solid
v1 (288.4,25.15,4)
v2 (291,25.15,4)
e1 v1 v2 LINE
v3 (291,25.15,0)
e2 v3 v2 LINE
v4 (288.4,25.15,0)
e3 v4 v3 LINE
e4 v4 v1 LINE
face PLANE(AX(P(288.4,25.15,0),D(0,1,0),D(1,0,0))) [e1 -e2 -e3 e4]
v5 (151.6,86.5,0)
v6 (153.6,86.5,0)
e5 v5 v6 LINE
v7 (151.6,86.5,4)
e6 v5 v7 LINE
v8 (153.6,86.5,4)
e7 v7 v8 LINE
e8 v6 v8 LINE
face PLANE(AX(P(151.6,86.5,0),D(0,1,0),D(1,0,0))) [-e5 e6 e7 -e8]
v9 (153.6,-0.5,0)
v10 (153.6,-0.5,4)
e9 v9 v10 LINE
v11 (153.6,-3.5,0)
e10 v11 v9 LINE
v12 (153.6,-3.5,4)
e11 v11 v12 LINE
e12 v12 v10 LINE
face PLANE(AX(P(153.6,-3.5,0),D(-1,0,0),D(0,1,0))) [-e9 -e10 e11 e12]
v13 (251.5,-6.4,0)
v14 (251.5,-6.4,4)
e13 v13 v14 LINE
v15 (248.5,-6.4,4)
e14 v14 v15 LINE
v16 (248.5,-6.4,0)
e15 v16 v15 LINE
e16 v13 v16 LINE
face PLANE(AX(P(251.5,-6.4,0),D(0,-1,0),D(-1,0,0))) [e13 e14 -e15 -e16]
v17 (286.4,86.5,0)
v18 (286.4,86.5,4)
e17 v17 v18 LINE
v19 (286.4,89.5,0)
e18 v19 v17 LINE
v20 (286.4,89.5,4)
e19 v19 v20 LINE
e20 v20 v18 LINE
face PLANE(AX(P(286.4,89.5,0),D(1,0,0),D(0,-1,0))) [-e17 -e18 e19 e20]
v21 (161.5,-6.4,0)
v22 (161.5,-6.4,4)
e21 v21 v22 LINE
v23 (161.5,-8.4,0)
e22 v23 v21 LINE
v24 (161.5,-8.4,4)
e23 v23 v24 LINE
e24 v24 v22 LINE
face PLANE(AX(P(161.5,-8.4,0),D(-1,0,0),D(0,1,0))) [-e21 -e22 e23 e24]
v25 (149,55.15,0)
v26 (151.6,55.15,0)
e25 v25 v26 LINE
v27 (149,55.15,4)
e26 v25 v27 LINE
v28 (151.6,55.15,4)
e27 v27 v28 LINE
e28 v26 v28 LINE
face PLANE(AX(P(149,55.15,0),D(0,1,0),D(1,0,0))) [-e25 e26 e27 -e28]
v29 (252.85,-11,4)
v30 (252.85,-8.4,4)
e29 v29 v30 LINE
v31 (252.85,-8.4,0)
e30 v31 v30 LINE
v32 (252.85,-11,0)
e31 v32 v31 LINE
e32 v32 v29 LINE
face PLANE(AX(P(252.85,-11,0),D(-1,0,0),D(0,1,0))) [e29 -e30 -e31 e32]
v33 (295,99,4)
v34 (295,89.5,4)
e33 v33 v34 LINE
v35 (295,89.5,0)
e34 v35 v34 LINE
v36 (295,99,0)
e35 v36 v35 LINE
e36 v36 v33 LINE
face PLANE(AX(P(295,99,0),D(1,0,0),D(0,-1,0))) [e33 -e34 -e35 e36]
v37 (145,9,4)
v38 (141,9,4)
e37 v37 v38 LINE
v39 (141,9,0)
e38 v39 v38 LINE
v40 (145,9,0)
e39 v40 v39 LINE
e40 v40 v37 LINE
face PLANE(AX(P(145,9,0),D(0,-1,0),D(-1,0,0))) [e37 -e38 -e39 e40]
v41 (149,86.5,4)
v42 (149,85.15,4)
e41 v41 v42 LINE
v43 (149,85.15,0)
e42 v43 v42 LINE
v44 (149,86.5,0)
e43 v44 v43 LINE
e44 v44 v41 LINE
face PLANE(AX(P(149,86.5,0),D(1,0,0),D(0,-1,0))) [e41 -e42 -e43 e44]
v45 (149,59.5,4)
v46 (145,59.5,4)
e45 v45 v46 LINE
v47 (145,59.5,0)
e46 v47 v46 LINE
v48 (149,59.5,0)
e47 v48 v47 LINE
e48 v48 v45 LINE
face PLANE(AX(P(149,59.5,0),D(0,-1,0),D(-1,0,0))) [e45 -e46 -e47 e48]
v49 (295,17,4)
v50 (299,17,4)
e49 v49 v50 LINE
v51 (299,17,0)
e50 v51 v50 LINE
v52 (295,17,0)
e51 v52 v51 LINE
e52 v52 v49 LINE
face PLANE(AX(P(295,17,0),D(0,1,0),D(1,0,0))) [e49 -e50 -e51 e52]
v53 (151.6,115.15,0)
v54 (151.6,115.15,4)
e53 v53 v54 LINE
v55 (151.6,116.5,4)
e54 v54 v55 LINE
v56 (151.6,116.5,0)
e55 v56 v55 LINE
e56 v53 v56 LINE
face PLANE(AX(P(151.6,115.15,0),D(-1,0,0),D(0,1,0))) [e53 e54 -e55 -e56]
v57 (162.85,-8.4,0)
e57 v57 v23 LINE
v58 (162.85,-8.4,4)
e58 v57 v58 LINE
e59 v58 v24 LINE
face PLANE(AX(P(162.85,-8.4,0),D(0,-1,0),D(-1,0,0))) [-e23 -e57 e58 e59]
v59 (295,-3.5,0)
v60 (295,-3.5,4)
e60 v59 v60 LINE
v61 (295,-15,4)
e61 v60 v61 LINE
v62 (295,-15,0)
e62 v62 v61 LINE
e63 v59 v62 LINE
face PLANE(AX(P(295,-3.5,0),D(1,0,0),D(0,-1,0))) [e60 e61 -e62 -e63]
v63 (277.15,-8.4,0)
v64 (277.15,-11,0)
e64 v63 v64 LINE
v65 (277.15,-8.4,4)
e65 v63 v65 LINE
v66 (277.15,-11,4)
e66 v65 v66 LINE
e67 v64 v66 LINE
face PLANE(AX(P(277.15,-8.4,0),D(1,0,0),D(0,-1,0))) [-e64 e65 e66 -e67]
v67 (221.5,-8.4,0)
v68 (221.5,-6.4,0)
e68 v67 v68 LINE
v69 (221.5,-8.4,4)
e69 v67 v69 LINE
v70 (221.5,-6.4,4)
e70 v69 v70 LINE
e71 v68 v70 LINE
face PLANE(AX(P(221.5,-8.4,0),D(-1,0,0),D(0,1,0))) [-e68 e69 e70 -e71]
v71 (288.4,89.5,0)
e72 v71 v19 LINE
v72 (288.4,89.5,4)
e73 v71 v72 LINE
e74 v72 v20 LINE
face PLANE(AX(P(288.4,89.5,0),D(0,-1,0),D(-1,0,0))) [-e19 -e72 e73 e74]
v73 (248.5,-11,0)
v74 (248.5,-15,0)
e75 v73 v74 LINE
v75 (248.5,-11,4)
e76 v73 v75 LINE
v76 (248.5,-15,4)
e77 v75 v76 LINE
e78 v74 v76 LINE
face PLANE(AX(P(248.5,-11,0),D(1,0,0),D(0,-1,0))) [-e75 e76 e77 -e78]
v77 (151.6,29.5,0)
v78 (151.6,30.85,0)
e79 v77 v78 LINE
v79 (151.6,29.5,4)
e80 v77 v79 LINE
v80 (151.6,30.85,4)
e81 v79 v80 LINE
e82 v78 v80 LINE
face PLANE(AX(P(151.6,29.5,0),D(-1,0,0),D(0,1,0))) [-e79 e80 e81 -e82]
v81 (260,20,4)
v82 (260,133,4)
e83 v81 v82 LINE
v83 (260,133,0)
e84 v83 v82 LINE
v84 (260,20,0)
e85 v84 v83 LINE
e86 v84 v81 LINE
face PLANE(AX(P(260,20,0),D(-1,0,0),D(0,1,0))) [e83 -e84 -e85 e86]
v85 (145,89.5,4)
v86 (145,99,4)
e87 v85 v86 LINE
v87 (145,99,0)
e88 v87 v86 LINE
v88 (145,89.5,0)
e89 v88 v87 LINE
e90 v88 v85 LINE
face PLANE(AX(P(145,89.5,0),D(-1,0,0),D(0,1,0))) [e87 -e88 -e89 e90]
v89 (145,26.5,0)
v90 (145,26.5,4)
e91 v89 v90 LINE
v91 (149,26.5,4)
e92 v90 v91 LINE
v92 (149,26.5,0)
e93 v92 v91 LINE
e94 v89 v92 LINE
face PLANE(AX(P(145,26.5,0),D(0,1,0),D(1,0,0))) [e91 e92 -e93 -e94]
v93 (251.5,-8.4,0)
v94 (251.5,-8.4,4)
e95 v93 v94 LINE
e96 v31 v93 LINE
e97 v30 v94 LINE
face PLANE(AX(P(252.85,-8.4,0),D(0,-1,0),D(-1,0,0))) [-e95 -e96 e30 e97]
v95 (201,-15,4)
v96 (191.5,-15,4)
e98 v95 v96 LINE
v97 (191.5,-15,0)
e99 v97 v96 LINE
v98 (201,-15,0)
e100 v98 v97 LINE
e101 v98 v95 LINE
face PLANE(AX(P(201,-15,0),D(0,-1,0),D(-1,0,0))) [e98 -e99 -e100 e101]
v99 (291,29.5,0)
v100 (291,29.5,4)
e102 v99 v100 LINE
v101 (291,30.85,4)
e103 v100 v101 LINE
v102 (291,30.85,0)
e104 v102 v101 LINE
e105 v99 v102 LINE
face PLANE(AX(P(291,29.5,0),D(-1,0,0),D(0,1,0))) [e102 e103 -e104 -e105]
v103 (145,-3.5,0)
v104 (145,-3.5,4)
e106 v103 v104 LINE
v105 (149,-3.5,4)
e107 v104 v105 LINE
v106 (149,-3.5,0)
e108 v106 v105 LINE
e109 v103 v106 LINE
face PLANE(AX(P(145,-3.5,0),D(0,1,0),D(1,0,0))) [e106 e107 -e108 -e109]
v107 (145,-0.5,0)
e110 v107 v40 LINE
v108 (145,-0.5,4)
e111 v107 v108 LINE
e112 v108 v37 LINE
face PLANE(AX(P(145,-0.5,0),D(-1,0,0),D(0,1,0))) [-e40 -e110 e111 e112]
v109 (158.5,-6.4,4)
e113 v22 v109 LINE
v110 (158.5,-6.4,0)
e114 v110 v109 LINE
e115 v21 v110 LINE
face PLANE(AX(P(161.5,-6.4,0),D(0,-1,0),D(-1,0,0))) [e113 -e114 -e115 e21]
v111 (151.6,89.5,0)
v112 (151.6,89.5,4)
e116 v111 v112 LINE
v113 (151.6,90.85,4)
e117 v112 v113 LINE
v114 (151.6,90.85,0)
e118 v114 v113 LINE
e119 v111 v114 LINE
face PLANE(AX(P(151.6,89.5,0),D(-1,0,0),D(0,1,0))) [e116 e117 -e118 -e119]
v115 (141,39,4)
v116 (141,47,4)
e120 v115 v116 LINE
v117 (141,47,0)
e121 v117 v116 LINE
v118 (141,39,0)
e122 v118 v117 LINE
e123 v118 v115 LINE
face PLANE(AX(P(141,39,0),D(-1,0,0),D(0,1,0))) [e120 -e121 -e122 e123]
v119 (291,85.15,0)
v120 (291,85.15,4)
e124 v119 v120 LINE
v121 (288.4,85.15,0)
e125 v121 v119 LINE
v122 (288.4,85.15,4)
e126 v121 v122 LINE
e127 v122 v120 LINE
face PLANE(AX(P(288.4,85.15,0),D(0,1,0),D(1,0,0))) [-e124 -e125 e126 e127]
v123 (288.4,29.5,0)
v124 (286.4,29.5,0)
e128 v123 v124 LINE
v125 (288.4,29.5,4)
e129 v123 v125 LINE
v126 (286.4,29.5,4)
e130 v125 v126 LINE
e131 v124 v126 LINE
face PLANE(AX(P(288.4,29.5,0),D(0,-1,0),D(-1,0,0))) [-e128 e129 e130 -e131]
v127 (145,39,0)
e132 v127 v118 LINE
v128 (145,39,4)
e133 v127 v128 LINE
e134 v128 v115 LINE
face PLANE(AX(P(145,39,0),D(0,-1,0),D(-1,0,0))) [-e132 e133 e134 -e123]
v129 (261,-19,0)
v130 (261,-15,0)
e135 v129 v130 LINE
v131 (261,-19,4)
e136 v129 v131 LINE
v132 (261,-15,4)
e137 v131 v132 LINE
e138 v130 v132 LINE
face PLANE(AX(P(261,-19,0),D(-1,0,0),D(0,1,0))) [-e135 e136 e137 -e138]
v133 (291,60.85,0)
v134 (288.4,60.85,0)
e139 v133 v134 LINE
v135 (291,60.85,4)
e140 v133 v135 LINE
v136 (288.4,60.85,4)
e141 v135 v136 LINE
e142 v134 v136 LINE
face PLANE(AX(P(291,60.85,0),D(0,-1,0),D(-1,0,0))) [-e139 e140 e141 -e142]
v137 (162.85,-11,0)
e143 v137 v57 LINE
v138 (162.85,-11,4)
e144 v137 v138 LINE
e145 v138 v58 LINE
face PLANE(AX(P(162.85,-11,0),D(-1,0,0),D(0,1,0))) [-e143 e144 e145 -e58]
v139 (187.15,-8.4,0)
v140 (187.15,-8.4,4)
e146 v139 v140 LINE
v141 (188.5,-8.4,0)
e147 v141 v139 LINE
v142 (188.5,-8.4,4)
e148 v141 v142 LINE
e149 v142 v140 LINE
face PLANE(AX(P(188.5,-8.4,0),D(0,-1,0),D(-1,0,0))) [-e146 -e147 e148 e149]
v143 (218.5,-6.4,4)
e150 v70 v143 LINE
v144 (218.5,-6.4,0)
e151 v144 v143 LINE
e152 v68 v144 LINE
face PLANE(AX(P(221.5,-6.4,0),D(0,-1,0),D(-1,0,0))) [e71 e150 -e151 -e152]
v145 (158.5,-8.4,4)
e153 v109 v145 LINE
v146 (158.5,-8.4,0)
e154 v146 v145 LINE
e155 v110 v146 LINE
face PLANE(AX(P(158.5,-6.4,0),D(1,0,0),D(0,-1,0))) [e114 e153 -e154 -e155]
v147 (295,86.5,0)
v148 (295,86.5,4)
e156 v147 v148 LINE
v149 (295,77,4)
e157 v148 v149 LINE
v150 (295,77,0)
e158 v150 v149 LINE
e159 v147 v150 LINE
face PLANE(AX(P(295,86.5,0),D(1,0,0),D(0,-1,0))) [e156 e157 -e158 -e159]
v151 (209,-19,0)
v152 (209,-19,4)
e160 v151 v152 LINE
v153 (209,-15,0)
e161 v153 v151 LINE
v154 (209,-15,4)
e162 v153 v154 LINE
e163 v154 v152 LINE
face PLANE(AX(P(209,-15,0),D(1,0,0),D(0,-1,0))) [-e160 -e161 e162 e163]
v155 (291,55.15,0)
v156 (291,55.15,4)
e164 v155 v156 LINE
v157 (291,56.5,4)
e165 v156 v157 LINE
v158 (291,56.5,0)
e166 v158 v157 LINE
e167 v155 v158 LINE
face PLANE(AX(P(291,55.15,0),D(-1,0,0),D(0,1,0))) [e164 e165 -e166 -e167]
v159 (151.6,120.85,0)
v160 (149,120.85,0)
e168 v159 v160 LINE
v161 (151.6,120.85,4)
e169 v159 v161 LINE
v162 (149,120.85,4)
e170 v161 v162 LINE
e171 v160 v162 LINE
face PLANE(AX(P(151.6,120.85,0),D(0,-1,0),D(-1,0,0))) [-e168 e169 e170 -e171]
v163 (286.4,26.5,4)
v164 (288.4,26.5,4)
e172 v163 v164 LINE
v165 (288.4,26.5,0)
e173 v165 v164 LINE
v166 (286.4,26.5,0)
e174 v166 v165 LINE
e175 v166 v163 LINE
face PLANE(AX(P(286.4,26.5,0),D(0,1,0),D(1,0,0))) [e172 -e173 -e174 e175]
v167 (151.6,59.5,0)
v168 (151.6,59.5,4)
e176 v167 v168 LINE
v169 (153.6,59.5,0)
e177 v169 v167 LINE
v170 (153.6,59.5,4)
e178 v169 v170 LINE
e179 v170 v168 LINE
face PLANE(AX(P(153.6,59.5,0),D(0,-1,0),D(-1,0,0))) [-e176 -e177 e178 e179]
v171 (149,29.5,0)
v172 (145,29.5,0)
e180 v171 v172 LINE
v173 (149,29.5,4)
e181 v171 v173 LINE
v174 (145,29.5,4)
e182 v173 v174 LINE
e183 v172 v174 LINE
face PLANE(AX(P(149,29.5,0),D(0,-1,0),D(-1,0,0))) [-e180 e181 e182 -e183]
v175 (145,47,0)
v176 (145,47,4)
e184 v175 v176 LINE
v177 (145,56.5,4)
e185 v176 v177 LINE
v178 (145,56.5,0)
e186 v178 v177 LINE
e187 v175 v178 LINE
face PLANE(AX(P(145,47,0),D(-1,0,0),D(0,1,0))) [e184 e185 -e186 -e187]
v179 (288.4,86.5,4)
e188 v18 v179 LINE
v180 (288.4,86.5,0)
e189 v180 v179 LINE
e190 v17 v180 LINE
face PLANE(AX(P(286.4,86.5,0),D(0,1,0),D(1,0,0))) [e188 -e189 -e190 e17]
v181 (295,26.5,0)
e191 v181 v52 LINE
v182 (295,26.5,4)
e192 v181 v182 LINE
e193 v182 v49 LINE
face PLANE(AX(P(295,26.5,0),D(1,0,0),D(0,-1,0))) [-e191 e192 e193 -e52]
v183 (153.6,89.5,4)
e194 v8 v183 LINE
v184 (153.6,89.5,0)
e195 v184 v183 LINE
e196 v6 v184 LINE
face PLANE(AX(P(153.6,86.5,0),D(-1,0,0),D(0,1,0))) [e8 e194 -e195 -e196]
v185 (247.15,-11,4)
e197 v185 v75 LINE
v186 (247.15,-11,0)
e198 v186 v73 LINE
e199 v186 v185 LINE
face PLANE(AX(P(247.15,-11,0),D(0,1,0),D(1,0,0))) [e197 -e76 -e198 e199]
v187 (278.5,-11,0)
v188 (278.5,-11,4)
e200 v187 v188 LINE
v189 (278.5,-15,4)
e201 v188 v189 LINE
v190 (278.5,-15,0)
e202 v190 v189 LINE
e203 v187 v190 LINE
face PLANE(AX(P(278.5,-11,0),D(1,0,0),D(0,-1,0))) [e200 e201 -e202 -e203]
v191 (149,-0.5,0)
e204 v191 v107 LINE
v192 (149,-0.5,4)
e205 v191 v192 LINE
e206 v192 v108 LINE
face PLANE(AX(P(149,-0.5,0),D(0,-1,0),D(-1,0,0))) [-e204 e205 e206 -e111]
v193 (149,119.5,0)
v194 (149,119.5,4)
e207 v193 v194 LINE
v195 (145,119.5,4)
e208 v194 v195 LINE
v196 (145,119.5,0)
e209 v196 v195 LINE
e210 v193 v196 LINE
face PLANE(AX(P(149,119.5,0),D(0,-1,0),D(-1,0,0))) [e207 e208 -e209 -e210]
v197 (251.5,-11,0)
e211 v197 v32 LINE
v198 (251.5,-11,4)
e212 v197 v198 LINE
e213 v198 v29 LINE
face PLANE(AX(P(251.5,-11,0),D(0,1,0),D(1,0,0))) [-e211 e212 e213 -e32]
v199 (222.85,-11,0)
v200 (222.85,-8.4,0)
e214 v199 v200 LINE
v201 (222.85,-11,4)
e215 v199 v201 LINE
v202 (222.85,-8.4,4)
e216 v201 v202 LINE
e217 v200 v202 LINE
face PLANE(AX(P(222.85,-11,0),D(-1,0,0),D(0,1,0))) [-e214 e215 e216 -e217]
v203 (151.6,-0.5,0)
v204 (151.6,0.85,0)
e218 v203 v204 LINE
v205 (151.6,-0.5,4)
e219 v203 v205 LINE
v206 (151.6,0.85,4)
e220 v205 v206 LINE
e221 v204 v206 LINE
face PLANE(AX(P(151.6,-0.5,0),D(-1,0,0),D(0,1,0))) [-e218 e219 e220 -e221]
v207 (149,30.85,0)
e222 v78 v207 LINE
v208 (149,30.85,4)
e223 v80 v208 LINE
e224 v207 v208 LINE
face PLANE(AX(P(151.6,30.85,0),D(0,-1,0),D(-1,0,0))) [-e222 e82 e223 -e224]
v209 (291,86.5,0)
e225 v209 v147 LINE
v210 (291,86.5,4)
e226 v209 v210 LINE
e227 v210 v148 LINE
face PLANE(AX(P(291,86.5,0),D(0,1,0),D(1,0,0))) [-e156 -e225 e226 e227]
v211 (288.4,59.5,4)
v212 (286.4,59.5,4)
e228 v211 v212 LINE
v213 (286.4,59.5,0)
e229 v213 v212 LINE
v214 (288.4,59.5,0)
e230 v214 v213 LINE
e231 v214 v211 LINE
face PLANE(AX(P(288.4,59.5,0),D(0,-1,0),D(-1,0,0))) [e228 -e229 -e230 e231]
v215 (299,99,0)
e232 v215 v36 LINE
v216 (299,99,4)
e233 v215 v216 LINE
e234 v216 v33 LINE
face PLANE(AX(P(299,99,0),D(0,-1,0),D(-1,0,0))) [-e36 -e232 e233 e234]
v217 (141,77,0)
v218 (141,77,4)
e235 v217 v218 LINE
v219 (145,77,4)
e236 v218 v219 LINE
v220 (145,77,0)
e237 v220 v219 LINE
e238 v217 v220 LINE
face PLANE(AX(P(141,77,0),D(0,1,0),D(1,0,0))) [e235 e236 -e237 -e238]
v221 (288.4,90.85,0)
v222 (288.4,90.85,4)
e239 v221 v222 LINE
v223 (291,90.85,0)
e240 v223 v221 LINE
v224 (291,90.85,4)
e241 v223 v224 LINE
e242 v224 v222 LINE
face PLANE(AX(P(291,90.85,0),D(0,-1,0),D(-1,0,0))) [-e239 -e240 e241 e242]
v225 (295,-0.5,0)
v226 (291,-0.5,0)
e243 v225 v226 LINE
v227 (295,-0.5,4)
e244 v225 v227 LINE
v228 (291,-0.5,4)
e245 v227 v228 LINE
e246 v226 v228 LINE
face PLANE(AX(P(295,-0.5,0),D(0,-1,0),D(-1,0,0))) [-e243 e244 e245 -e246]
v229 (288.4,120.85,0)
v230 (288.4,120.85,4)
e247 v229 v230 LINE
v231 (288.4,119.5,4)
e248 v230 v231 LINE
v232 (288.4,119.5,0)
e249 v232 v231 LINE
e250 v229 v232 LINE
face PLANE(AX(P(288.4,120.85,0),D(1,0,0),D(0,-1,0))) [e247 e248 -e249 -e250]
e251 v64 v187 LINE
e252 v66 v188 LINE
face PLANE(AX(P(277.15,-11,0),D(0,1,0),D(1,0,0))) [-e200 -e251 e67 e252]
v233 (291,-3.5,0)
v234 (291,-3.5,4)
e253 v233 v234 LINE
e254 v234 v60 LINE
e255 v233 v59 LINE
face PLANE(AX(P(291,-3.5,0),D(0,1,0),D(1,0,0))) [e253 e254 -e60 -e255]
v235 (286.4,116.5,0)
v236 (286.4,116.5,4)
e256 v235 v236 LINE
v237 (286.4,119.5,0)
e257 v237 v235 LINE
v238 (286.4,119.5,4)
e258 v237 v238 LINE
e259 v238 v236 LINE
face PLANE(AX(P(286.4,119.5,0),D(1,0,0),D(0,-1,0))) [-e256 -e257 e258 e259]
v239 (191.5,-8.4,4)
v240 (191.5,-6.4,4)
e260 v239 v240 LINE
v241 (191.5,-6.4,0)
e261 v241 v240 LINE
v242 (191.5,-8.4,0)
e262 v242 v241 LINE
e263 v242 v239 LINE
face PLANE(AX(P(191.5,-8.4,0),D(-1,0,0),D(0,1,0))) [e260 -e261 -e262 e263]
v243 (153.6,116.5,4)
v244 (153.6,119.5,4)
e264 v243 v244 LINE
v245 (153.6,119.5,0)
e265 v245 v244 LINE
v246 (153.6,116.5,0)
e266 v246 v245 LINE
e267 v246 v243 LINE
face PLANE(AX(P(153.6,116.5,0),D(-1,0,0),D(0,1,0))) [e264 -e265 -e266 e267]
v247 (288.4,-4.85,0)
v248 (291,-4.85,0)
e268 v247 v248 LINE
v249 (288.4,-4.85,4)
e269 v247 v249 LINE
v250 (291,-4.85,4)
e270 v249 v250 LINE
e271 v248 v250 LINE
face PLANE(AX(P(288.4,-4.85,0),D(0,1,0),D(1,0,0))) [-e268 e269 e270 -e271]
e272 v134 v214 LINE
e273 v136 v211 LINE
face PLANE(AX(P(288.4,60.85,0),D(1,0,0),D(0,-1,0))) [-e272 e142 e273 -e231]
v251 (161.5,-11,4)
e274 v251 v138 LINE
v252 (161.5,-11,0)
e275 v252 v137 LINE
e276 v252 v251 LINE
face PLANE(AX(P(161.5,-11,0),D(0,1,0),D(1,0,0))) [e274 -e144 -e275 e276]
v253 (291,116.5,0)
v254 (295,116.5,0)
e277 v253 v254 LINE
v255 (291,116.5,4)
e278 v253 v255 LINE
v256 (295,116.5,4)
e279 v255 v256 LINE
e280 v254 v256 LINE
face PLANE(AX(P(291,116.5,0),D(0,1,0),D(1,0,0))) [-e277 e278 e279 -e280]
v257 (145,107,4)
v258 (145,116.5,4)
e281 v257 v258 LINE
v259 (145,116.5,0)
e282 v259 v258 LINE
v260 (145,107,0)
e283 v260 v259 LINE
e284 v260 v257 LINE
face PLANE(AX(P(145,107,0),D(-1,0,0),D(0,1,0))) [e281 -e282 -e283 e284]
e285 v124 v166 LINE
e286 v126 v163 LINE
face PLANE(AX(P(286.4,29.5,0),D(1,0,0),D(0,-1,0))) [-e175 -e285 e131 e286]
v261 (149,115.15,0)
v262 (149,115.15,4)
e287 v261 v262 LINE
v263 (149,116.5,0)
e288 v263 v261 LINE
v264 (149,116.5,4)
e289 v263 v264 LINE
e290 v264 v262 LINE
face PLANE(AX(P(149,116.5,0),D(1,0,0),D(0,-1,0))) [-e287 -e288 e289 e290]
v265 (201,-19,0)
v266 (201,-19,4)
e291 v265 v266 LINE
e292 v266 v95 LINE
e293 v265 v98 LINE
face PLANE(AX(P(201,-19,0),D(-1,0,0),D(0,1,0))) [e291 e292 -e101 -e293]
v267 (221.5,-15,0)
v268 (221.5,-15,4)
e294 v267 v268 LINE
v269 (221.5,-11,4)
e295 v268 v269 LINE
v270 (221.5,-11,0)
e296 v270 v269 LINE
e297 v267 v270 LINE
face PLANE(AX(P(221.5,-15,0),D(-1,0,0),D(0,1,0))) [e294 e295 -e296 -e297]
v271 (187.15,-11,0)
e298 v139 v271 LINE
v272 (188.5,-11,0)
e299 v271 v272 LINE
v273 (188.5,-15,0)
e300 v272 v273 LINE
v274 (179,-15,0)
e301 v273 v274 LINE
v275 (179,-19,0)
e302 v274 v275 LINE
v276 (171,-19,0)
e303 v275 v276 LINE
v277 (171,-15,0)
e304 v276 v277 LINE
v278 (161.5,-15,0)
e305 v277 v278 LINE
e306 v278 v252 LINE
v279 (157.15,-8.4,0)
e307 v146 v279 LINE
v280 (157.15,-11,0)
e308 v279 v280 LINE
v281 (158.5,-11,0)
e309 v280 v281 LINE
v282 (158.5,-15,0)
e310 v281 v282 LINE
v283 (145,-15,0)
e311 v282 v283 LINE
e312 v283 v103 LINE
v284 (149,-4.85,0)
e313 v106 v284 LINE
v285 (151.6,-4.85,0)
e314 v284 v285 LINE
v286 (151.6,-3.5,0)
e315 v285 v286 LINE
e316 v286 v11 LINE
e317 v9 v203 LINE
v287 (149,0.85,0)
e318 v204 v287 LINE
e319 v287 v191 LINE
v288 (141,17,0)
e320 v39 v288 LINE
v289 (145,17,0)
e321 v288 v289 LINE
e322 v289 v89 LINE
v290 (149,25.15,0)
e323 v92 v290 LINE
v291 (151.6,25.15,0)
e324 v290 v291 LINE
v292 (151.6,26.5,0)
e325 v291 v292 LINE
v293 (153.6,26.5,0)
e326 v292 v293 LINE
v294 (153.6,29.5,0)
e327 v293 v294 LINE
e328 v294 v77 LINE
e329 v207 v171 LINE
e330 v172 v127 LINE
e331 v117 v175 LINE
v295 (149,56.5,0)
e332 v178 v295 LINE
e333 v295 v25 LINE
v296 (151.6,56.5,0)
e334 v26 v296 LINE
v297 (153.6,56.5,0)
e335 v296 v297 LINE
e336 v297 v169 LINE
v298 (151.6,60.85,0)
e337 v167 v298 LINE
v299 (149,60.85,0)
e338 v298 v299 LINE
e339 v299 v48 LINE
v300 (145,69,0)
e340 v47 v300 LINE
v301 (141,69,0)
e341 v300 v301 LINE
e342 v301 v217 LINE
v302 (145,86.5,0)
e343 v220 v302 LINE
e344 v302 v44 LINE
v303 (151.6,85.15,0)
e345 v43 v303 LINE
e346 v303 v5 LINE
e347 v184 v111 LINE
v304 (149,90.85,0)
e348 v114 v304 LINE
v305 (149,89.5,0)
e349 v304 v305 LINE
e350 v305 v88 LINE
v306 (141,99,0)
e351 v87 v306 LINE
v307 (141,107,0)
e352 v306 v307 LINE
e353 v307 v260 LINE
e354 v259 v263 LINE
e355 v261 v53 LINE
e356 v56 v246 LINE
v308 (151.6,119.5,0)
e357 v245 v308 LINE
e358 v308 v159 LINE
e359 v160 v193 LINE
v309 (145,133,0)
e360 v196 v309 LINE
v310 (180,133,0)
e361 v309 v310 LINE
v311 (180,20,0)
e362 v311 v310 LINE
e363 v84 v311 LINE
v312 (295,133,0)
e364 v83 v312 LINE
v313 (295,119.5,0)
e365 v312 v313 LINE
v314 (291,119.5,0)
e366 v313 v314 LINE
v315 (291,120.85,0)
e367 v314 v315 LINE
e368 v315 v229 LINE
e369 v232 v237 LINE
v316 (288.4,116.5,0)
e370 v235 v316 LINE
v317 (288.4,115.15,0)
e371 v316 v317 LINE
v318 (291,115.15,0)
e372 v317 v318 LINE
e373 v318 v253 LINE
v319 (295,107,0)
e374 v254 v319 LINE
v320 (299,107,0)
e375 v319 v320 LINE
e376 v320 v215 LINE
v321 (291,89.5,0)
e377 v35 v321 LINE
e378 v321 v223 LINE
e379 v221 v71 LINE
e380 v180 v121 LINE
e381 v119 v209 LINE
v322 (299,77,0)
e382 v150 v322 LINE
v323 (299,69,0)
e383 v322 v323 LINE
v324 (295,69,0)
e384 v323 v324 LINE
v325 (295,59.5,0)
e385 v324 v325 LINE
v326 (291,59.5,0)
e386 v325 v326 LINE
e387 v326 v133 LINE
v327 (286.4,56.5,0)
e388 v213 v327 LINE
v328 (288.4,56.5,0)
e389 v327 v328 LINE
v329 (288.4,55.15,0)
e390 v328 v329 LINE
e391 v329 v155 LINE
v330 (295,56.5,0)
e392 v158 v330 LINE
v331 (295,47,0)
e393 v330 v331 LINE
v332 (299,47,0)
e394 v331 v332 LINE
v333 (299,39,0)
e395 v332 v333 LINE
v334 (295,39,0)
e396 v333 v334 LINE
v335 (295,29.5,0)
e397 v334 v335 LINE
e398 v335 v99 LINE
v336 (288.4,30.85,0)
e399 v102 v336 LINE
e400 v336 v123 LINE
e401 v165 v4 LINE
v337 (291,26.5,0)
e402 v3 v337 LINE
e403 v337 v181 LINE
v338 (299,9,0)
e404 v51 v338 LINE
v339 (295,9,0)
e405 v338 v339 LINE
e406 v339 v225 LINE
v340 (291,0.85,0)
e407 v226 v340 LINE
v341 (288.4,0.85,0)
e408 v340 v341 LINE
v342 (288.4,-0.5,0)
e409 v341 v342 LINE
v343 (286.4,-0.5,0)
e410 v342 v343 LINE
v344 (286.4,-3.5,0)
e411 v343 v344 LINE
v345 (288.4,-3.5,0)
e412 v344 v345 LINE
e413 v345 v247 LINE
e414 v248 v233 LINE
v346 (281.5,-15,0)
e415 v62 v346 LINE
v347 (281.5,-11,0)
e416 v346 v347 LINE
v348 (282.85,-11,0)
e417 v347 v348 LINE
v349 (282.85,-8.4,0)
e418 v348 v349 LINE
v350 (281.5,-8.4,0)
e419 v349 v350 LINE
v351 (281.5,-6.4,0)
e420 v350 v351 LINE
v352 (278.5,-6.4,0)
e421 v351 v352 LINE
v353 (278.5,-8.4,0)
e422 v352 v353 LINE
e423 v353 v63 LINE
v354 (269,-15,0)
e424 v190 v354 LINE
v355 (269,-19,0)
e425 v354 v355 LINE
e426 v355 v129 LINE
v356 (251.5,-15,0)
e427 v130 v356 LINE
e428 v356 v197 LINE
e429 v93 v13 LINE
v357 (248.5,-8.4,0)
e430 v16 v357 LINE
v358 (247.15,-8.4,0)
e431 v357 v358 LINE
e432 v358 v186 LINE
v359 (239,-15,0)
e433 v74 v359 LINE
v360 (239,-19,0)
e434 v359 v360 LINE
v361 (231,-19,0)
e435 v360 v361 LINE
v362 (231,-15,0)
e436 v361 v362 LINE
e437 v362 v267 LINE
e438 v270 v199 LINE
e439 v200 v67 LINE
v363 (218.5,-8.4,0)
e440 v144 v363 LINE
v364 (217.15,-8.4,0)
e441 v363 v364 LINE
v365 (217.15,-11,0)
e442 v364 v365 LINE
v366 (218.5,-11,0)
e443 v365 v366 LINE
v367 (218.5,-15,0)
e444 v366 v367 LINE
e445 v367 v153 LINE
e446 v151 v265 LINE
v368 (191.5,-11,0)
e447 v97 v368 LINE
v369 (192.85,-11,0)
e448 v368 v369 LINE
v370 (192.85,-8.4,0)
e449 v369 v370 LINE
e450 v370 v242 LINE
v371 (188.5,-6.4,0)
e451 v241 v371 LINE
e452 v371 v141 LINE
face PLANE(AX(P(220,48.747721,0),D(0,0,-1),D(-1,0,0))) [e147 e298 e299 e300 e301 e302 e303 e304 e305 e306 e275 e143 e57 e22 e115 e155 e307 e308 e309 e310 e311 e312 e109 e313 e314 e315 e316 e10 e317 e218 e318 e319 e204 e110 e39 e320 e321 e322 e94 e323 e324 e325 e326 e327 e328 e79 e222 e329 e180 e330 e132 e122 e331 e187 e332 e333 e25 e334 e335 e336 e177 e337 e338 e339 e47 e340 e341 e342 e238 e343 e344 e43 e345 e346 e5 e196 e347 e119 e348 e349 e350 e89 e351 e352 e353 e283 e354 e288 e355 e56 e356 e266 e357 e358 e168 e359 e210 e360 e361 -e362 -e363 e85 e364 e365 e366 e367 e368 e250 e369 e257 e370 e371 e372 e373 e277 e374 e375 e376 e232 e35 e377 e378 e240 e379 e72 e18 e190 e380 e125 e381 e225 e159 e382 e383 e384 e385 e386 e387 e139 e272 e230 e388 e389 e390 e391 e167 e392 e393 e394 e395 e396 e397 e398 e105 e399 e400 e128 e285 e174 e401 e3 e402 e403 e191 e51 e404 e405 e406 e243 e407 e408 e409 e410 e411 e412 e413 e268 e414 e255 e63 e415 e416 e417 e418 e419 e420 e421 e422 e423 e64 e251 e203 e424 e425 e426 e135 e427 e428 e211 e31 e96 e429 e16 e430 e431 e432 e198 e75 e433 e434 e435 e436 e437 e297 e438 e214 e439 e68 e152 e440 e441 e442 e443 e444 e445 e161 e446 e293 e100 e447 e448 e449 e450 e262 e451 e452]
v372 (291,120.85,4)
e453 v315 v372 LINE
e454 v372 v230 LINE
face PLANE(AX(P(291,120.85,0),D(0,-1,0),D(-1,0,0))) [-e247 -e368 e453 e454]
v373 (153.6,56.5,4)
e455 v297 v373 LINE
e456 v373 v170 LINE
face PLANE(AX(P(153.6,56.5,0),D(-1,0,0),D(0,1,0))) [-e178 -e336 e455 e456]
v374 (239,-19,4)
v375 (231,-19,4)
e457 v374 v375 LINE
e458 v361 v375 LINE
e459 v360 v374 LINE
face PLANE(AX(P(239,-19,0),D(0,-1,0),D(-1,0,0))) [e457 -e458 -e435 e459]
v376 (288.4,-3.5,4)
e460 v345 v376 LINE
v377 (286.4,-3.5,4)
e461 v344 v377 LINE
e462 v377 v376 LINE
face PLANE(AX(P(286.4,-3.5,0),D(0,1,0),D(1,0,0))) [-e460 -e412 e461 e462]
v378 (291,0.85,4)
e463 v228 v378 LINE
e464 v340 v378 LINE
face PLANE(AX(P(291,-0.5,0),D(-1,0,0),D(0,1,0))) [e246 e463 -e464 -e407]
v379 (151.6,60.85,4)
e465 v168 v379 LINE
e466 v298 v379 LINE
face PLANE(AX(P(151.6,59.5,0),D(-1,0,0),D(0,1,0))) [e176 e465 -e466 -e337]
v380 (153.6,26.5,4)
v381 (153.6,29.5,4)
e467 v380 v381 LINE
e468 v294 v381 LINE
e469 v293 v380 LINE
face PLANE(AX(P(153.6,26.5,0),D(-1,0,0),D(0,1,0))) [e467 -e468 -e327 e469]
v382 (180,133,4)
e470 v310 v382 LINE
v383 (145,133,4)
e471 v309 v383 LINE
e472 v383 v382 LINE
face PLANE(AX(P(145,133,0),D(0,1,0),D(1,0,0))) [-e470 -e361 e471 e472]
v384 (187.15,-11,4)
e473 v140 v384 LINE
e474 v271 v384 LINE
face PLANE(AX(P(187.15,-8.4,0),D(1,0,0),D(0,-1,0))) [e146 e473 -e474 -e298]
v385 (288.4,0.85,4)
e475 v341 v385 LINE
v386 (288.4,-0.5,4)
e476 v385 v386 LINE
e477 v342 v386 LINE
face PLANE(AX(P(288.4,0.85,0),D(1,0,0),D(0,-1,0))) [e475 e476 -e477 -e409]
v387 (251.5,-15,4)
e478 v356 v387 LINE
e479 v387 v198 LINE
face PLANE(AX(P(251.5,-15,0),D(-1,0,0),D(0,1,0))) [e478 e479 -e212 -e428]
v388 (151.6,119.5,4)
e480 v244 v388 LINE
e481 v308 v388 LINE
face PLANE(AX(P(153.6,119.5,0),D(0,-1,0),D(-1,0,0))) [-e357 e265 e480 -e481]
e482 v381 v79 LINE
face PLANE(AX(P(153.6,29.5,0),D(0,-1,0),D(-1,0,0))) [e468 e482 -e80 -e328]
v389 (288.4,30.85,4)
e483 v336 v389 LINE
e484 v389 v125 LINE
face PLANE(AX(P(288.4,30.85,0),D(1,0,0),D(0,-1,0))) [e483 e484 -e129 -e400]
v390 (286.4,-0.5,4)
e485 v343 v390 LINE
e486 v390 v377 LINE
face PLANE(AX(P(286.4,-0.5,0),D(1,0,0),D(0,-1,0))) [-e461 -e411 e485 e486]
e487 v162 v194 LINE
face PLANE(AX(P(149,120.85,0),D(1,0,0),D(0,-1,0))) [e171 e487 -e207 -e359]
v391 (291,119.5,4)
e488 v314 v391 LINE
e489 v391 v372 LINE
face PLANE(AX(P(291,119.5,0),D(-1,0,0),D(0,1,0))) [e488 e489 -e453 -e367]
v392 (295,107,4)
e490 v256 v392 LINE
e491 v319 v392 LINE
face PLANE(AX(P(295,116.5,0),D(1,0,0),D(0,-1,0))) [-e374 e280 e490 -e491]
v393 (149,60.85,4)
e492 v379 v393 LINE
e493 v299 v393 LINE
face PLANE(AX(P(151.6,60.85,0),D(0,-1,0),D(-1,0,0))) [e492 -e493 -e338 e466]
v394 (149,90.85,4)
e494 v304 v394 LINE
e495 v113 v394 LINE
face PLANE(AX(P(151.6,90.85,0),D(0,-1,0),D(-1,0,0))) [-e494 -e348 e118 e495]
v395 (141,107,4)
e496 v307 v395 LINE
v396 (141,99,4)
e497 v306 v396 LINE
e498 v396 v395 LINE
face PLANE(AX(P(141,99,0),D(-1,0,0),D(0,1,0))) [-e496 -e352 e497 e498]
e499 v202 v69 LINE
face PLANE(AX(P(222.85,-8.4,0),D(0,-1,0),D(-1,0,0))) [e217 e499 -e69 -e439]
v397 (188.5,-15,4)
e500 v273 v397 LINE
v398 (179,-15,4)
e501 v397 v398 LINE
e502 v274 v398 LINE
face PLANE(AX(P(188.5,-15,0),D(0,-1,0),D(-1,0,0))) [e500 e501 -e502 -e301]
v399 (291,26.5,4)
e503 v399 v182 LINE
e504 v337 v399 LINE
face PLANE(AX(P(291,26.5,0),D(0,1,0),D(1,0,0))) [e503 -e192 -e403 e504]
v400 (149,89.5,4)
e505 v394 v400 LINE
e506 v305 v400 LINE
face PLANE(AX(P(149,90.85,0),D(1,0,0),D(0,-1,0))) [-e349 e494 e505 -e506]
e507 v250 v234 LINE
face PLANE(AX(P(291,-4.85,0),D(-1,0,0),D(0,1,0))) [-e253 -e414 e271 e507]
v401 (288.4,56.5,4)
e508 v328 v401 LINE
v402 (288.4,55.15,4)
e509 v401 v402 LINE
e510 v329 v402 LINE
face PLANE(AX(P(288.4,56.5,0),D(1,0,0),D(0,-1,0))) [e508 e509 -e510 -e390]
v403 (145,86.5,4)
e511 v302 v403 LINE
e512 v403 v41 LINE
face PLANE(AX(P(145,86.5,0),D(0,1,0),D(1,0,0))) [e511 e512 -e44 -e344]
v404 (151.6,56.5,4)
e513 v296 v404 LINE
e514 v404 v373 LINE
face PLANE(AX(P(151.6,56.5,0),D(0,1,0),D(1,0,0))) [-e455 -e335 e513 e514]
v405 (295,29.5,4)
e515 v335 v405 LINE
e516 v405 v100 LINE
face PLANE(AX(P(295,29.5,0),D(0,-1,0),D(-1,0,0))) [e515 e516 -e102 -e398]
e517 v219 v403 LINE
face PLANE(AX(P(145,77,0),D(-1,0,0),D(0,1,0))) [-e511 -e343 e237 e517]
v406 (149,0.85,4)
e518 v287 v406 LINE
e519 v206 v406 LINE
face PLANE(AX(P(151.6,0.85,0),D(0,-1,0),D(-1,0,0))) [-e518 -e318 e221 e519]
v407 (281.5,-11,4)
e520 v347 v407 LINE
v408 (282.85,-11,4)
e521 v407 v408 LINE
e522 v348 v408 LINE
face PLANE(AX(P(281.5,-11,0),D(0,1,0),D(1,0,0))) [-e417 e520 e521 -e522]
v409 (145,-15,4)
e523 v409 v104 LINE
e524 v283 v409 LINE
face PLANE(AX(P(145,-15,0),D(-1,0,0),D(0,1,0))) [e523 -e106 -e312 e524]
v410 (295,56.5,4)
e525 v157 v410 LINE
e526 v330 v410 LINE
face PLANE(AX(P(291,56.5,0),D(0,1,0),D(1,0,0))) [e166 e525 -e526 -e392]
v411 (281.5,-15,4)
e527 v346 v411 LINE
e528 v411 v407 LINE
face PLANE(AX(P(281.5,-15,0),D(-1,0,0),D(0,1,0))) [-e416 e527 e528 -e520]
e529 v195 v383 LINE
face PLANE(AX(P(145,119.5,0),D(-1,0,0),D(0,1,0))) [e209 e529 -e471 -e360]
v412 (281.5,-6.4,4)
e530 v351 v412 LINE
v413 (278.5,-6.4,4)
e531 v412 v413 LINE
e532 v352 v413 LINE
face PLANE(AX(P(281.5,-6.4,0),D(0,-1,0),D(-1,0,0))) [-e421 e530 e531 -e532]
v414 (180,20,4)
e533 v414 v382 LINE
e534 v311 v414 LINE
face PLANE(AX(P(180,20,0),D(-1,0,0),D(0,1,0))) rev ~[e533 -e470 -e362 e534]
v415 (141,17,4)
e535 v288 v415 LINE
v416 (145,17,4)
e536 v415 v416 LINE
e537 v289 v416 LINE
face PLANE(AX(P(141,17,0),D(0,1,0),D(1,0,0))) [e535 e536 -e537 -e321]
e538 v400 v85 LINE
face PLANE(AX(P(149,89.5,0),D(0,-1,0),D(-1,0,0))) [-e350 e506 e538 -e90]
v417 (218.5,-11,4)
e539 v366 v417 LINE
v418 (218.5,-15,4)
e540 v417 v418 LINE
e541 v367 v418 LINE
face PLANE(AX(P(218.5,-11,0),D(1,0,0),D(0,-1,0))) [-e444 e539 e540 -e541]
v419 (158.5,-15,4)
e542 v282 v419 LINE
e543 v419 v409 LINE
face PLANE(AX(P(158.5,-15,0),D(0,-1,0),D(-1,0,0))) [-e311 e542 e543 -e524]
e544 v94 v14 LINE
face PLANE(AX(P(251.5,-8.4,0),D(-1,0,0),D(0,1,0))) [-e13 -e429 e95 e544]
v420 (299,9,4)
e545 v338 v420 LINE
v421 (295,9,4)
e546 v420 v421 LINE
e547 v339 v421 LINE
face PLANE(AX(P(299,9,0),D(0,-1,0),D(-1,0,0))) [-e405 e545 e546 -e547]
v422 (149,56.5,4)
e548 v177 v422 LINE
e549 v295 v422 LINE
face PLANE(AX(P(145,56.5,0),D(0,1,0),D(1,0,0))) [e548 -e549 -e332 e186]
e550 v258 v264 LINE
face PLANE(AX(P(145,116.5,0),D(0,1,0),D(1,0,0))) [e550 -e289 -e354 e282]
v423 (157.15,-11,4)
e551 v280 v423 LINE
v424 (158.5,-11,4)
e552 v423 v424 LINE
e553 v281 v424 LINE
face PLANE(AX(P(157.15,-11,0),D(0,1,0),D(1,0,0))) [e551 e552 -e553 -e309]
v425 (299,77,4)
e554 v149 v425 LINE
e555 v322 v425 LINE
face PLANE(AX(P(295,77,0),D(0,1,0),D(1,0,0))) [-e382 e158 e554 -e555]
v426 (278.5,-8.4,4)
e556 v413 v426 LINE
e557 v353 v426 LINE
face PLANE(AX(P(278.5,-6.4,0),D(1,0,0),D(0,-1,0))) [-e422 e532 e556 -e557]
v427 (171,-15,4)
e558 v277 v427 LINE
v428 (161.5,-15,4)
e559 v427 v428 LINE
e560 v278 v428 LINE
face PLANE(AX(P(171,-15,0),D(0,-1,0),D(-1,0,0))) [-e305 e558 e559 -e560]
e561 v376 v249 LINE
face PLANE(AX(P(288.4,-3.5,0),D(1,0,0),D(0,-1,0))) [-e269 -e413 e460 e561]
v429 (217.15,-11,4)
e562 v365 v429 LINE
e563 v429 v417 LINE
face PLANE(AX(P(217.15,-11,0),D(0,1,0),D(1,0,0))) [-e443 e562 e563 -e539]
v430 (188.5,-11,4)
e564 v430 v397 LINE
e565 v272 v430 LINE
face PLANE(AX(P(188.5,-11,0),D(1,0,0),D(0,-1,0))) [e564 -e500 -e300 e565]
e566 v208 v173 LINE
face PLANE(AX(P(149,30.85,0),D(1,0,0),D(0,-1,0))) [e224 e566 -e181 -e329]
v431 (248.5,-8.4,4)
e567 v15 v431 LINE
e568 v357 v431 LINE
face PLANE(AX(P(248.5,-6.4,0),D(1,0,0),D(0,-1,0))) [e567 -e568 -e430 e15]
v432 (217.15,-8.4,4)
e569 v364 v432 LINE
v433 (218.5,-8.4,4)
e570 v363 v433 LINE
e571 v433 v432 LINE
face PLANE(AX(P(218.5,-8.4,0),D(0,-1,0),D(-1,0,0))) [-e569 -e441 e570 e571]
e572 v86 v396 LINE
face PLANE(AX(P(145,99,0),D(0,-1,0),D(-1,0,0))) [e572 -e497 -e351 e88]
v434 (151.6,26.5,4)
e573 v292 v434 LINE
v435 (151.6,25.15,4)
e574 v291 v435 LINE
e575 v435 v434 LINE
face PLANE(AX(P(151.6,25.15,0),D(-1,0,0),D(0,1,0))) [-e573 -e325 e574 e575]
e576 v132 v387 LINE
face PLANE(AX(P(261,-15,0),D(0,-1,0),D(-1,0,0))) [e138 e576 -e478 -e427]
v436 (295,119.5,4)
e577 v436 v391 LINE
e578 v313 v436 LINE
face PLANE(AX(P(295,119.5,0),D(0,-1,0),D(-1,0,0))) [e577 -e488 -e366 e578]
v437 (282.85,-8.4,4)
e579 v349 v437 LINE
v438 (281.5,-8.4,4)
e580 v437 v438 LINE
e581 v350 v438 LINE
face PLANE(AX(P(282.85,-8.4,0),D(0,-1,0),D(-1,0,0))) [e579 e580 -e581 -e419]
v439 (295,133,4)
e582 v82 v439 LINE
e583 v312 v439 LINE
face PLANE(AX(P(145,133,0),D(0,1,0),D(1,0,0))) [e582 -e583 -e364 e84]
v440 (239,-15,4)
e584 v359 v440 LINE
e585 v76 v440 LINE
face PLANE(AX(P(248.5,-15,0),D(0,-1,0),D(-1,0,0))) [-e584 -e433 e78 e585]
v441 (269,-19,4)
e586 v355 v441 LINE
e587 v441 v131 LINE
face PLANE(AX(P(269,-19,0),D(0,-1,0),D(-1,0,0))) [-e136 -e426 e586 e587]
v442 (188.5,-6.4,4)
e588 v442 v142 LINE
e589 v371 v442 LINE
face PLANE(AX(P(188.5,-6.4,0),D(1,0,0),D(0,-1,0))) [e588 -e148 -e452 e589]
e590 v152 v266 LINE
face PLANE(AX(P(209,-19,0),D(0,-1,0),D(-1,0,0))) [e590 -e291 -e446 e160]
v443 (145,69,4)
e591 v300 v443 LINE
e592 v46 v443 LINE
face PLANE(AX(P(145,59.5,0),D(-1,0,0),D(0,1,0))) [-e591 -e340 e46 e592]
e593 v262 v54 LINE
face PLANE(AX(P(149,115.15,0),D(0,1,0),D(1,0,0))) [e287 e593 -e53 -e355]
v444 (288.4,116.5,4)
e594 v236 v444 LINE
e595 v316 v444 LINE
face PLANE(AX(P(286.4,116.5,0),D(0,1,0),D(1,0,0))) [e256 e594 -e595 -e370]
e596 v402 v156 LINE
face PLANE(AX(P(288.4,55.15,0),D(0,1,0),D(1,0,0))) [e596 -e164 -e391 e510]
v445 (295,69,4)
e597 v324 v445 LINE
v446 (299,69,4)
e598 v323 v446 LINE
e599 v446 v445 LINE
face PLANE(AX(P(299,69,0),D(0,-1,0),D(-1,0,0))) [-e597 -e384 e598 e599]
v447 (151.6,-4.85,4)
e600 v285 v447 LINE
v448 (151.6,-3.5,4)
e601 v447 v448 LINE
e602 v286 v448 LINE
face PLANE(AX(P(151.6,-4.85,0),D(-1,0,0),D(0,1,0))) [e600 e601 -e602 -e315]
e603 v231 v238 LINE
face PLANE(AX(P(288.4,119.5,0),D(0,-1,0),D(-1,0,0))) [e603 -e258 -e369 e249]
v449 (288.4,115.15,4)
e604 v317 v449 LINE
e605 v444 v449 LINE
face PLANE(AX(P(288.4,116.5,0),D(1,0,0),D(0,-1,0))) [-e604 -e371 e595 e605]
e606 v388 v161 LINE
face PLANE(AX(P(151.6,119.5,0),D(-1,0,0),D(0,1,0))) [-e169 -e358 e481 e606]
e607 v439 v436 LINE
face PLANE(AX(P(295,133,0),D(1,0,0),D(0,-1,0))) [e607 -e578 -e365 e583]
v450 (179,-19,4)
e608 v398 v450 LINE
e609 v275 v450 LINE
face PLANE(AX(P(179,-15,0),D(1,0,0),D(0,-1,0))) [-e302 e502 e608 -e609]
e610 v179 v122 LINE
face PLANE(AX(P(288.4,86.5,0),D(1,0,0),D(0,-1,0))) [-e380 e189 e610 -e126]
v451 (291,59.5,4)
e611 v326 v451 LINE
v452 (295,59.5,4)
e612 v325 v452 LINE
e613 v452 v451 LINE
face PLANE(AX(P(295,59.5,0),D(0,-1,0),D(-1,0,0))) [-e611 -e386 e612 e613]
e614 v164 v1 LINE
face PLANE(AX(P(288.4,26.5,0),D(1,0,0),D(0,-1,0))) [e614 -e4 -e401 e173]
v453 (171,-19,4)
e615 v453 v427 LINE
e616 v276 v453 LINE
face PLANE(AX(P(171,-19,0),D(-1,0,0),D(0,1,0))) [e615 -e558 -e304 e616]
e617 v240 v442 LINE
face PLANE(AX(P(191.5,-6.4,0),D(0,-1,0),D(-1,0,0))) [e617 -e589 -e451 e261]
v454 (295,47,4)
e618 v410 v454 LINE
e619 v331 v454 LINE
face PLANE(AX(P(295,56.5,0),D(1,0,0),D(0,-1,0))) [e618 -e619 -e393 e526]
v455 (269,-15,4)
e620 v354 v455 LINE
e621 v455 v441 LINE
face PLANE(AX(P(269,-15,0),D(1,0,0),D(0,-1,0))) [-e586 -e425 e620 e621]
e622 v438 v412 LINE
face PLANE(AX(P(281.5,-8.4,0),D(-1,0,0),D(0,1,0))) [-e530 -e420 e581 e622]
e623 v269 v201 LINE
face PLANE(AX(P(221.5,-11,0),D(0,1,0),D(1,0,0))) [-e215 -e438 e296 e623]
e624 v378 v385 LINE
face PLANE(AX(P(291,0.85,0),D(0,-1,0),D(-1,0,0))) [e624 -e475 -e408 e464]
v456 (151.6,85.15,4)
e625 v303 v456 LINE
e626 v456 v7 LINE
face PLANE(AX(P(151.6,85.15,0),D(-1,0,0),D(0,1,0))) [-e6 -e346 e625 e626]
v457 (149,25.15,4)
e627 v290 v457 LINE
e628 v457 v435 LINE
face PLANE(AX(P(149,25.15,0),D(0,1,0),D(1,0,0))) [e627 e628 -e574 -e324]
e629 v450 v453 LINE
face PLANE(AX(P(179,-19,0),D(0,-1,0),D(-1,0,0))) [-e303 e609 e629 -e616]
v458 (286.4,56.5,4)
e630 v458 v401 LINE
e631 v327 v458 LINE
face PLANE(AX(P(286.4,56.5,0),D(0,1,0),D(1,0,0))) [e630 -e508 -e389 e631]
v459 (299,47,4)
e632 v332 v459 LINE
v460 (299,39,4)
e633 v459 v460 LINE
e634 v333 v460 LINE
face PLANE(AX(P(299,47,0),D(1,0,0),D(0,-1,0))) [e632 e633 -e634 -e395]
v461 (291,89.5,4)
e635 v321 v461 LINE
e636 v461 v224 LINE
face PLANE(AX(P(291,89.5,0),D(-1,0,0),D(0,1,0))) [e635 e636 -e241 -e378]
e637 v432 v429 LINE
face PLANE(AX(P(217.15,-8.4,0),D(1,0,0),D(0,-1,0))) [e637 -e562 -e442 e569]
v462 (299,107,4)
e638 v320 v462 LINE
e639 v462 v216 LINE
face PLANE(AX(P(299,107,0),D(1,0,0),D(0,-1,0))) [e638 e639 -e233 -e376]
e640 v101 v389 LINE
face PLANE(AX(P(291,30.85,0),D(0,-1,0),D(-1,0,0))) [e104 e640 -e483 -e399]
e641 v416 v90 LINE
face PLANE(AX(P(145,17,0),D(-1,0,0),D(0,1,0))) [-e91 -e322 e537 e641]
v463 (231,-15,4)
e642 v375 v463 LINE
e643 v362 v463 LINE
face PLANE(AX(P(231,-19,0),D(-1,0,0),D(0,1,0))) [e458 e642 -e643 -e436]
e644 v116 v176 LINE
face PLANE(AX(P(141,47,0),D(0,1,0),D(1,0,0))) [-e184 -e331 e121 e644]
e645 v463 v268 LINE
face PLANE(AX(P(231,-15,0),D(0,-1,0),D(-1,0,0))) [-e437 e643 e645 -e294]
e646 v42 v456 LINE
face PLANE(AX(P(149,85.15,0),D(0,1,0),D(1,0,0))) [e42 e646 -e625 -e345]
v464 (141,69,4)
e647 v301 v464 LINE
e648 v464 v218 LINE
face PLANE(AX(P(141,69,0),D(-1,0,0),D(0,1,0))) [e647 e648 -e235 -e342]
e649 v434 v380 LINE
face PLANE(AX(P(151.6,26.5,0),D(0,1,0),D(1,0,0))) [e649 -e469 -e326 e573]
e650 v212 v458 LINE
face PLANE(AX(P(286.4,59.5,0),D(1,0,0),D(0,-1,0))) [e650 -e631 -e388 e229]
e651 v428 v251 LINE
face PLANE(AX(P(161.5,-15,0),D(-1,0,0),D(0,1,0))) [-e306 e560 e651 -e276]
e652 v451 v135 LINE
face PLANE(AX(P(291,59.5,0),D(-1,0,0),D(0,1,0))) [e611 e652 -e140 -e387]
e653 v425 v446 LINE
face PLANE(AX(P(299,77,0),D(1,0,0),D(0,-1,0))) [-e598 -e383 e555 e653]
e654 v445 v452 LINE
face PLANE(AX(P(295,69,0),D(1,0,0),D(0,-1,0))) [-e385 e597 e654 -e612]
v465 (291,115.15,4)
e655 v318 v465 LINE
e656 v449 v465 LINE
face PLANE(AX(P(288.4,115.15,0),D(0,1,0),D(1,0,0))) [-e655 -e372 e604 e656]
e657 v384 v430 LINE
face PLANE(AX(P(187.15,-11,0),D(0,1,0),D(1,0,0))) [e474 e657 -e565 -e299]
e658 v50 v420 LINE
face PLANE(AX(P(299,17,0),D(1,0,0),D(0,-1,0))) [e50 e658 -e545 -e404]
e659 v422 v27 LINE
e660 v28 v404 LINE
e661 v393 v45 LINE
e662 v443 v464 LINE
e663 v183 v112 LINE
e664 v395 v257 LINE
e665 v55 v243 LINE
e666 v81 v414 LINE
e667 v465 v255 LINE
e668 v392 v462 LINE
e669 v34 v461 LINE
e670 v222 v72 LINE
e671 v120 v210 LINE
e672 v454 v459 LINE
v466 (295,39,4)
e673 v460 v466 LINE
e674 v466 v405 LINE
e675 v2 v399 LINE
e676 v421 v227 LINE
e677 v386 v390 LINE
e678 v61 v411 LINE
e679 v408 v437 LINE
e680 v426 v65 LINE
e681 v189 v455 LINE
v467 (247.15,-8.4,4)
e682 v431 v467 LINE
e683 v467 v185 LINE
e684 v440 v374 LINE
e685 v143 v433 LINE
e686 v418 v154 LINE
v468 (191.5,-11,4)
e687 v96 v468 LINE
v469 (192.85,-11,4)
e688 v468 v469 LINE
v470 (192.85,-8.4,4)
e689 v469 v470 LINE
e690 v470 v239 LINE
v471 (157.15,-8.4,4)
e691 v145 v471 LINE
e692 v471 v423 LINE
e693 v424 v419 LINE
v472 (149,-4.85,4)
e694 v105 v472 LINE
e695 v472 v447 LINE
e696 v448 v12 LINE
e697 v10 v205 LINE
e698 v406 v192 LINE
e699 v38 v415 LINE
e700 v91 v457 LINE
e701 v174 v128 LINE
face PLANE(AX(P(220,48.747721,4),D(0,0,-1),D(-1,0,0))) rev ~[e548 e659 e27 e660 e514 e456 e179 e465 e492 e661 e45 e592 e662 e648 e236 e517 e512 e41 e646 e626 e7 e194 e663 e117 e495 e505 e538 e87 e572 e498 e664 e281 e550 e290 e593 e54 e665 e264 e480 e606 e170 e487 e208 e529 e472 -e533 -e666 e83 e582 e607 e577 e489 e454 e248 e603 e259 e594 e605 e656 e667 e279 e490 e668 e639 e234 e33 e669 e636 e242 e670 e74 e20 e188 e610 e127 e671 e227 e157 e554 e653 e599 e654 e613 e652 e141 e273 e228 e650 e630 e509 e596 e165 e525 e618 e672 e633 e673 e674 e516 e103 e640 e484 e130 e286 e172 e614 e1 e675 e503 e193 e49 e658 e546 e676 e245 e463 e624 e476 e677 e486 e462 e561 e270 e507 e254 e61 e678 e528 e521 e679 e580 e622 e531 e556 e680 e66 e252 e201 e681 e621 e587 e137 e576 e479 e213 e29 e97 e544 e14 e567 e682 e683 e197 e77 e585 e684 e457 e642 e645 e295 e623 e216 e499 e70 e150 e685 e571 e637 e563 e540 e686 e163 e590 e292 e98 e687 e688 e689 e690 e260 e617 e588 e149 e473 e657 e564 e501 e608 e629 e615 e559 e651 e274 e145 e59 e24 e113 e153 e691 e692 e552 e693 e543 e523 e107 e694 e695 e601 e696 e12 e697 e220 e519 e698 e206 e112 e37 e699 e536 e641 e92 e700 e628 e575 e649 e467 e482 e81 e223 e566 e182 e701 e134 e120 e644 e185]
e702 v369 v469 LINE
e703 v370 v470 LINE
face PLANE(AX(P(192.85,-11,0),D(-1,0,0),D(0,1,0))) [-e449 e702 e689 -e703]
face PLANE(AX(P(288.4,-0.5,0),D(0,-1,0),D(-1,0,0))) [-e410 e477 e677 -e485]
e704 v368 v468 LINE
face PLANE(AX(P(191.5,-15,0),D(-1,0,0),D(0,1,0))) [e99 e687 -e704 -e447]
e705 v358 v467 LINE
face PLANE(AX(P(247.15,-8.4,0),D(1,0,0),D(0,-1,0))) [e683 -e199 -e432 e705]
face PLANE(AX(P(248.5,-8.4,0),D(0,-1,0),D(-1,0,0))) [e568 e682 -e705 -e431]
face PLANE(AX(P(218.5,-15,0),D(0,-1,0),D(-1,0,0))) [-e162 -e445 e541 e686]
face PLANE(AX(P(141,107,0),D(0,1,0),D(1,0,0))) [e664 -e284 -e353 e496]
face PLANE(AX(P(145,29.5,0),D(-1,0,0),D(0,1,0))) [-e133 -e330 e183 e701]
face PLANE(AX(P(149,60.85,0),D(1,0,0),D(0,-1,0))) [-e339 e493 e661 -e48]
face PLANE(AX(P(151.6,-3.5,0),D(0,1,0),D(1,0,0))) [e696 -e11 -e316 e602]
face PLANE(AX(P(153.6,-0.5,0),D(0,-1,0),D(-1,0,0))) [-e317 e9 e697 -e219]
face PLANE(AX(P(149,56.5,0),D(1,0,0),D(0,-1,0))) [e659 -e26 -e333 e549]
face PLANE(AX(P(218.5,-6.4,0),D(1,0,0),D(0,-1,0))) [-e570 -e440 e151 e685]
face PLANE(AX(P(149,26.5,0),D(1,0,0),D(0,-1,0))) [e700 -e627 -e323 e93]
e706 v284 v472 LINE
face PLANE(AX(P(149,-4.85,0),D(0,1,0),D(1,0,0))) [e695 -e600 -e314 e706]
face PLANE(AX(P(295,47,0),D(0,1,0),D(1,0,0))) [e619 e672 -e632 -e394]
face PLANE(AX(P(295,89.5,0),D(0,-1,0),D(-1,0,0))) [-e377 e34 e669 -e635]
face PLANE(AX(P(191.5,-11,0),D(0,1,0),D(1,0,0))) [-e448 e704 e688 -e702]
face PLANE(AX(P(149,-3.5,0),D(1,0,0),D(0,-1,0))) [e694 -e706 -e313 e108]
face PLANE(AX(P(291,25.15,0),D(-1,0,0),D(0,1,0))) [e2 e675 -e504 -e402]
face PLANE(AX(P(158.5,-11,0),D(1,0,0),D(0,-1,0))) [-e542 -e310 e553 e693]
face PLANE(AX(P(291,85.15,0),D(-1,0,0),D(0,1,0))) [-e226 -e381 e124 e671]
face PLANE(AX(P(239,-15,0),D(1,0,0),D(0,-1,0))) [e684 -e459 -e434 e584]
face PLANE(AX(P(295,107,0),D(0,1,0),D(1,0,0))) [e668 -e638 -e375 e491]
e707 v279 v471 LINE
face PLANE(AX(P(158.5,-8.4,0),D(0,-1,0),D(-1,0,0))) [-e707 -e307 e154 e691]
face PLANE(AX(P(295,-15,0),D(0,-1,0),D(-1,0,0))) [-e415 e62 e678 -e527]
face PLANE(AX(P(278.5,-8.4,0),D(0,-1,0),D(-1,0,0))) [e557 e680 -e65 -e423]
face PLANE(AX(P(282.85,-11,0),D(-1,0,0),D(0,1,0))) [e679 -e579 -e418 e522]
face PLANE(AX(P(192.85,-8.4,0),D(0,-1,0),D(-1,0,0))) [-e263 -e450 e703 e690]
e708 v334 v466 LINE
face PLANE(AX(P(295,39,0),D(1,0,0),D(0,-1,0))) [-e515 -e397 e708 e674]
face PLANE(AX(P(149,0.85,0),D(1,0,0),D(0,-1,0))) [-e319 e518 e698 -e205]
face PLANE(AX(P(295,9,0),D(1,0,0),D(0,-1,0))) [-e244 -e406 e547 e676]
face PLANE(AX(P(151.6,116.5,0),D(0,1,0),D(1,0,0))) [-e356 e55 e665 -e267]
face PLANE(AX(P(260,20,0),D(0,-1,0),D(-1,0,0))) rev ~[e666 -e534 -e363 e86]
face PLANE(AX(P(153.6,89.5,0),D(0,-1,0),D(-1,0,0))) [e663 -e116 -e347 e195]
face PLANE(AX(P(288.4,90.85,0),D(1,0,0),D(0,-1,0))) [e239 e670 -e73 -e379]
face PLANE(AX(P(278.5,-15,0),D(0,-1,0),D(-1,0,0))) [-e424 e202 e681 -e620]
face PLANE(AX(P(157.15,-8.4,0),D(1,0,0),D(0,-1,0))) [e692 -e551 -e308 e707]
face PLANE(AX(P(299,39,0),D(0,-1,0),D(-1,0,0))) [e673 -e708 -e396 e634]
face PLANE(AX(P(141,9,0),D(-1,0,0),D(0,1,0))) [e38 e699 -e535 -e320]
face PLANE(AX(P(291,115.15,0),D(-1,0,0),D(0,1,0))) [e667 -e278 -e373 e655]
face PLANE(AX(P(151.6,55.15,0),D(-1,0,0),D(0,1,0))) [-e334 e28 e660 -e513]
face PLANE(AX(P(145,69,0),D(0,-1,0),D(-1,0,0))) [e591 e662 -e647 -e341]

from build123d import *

# Parameters (mm, degrees)
EXTRUDE_1_DEPTH     = 4
SKETCH_4_W          = 80
SKETCH_4_H          = 113
CUT_EXTRUDE_1_DEPTH = 4


with BuildPart() as part:
    # 草图1 → 凸台-拉伸1 (new body)
    with BuildSketch(Plane.XY):
        Polygon((145, 56.5), (149, 56.5), (149, 55.15), (151.6, 55.15), (151.6, 56.5), (153.6, 56.5), (153.6, 59.5), (151.6, 59.5), (151.6, 60.85), (149, 60.85), (149, 59.5), (145, 59.5), (145, 69), (141, 69), (141, 77), (145, 77), (145, 86.5), (149, 86.5), (149, 85.15), (151.6, 85.15), (151.6, 86.5), (153.6, 86.5), (153.6, 89.5), (151.6, 89.5), (151.6, 90.85), (149, 90.85), (149, 89.5), (145, 89.5), (145, 99), (141, 99), (141, 107), (145, 107), (145, 116.5), (149, 116.5), (149, 115.15), (151.6, 115.15), (151.6, 116.5), (153.6, 116.5), (153.6, 119.5), (151.6, 119.5), (151.6, 120.85), (149, 120.85), (149, 119.5), (145, 119.5), (145, 133), (295, 133), (295, 119.5), (291, 119.5), (291, 120.85), (288.4, 120.85), (288.4, 119.5), (286.4, 119.5), (286.4, 116.5), (288.4, 116.5), (288.4, 115.15), (291, 115.15), (291, 116.5), (295, 116.5), (295, 107), (299, 107), (299, 99), (295, 99), (295, 89.5), (291, 89.5), (291, 90.85), (288.4, 90.85), (288.4, 89.5), (286.4, 89.5), (286.4, 86.5), (288.4, 86.5), (288.4, 85.15), (291, 85.15), (291, 86.5), (295, 86.5), (295, 77), (299, 77), (299, 69), (295, 69), (295, 59.5), (291, 59.5), (291, 60.85), (288.4, 60.85), (288.4, 59.5), (286.4, 59.5), (286.4, 56.5), (288.4, 56.5), (288.4, 55.15), (291, 55.15), (291, 56.5), (295, 56.5), (295, 47), (299, 47), (299, 39), (295, 39), (295, 29.5), (291, 29.5), (291, 30.85), (288.4, 30.85), (288.4, 29.5), (286.4, 29.5), (286.4, 26.5), (288.4, 26.5), (288.4, 25.15), (291, 25.15), (291, 26.5), (295, 26.5), (295, 17), (299, 17), (299, 9), (295, 9), (295, -0.5), (291, -0.5), (291, 0.85), (288.4, 0.85), (288.4, -0.5), (286.4, -0.5), (286.4, -3.5), (288.4, -3.5), (288.4, -4.85), (291, -4.85), (291, -3.5), (295, -3.5), (295, -15), (281.5, -15), (281.5, -11), (282.85, -11), (282.85, -8.4), (281.5, -8.4), (281.5, -6.4), (278.5, -6.4), (278.5, -8.4), (277.15, -8.4), (277.15, -11), (278.5, -11), (278.5, -15), (269, -15), (269, -19), (261, -19), (261, -15), (251.5, -15), (251.5, -11), (252.85, -11), (252.85, -8.4), (251.5, -8.4), (251.5, -6.4), (248.5, -6.4), (248.5, -8.4), (247.15, -8.4), (247.15, -11), (248.5, -11), (248.5, -15), (239, -15), (239, -19), (231, -19), (231, -15), (221.5, -15), (221.5, -11), (222.85, -11), (222.85, -8.4), (221.5, -8.4), (221.5, -6.4), (218.5, -6.4), (218.5, -8.4), (217.15, -8.4), (217.15, -11), (218.5, -11), (218.5, -15), (209, -15), (209, -19), (201, -19), (201, -15), (191.5, -15), (191.5, -11), (192.85, -11), (192.85, -8.4), (191.5, -8.4), (191.5, -6.4), (188.5, -6.4), (188.5, -8.4), (187.15, -8.4), (187.15, -11), (188.5, -11), (188.5, -15), (179, -15), (179, -19), (171, -19), (171, -15), (161.5, -15), (161.5, -11), (162.85, -11), (162.85, -8.4), (161.5, -8.4), (161.5, -6.4), (158.5, -6.4), (158.5, -8.4), (157.15, -8.4), (157.15, -11), (158.5, -11), (158.5, -15), (145, -15), (145, -3.5), (149, -3.5), (149, -4.85), (151.6, -4.85), (151.6, -3.5), (153.6, -3.5), (153.6, -0.5), (151.6, -0.5), (151.6, 0.85), (149, 0.85), (149, -0.5), (145, -0.5), (145, 9), (141, 9), (141, 17), (145, 17), (145, 26.5), (149, 26.5), (149, 25.15), (151.6, 25.15), (151.6, 26.5), (153.6, 26.5), (153.6, 29.5), (151.6, 29.5), (151.6, 30.85), (149, 30.85), (149, 29.5), (145, 29.5), (145, 39), (141, 39), (141, 47), (145, 47), align=None)
    extrude(amount=EXTRUDE_1_DEPTH)

    # 草图4 → 切除-拉伸1 (cut)
    with BuildSketch(Plane(origin=(0, 0, 0), x_dir=(-1, 0, 0), z_dir=(0, 0, -1))):
        with Locations((-220, 76.5)):
            Rectangle(SKETCH_4_W, SKETCH_4_H)
    extrude(amount=-CUT_EXTRUDE_1_DEPTH, mode=Mode.SUBTRACT)


solid = part.part
